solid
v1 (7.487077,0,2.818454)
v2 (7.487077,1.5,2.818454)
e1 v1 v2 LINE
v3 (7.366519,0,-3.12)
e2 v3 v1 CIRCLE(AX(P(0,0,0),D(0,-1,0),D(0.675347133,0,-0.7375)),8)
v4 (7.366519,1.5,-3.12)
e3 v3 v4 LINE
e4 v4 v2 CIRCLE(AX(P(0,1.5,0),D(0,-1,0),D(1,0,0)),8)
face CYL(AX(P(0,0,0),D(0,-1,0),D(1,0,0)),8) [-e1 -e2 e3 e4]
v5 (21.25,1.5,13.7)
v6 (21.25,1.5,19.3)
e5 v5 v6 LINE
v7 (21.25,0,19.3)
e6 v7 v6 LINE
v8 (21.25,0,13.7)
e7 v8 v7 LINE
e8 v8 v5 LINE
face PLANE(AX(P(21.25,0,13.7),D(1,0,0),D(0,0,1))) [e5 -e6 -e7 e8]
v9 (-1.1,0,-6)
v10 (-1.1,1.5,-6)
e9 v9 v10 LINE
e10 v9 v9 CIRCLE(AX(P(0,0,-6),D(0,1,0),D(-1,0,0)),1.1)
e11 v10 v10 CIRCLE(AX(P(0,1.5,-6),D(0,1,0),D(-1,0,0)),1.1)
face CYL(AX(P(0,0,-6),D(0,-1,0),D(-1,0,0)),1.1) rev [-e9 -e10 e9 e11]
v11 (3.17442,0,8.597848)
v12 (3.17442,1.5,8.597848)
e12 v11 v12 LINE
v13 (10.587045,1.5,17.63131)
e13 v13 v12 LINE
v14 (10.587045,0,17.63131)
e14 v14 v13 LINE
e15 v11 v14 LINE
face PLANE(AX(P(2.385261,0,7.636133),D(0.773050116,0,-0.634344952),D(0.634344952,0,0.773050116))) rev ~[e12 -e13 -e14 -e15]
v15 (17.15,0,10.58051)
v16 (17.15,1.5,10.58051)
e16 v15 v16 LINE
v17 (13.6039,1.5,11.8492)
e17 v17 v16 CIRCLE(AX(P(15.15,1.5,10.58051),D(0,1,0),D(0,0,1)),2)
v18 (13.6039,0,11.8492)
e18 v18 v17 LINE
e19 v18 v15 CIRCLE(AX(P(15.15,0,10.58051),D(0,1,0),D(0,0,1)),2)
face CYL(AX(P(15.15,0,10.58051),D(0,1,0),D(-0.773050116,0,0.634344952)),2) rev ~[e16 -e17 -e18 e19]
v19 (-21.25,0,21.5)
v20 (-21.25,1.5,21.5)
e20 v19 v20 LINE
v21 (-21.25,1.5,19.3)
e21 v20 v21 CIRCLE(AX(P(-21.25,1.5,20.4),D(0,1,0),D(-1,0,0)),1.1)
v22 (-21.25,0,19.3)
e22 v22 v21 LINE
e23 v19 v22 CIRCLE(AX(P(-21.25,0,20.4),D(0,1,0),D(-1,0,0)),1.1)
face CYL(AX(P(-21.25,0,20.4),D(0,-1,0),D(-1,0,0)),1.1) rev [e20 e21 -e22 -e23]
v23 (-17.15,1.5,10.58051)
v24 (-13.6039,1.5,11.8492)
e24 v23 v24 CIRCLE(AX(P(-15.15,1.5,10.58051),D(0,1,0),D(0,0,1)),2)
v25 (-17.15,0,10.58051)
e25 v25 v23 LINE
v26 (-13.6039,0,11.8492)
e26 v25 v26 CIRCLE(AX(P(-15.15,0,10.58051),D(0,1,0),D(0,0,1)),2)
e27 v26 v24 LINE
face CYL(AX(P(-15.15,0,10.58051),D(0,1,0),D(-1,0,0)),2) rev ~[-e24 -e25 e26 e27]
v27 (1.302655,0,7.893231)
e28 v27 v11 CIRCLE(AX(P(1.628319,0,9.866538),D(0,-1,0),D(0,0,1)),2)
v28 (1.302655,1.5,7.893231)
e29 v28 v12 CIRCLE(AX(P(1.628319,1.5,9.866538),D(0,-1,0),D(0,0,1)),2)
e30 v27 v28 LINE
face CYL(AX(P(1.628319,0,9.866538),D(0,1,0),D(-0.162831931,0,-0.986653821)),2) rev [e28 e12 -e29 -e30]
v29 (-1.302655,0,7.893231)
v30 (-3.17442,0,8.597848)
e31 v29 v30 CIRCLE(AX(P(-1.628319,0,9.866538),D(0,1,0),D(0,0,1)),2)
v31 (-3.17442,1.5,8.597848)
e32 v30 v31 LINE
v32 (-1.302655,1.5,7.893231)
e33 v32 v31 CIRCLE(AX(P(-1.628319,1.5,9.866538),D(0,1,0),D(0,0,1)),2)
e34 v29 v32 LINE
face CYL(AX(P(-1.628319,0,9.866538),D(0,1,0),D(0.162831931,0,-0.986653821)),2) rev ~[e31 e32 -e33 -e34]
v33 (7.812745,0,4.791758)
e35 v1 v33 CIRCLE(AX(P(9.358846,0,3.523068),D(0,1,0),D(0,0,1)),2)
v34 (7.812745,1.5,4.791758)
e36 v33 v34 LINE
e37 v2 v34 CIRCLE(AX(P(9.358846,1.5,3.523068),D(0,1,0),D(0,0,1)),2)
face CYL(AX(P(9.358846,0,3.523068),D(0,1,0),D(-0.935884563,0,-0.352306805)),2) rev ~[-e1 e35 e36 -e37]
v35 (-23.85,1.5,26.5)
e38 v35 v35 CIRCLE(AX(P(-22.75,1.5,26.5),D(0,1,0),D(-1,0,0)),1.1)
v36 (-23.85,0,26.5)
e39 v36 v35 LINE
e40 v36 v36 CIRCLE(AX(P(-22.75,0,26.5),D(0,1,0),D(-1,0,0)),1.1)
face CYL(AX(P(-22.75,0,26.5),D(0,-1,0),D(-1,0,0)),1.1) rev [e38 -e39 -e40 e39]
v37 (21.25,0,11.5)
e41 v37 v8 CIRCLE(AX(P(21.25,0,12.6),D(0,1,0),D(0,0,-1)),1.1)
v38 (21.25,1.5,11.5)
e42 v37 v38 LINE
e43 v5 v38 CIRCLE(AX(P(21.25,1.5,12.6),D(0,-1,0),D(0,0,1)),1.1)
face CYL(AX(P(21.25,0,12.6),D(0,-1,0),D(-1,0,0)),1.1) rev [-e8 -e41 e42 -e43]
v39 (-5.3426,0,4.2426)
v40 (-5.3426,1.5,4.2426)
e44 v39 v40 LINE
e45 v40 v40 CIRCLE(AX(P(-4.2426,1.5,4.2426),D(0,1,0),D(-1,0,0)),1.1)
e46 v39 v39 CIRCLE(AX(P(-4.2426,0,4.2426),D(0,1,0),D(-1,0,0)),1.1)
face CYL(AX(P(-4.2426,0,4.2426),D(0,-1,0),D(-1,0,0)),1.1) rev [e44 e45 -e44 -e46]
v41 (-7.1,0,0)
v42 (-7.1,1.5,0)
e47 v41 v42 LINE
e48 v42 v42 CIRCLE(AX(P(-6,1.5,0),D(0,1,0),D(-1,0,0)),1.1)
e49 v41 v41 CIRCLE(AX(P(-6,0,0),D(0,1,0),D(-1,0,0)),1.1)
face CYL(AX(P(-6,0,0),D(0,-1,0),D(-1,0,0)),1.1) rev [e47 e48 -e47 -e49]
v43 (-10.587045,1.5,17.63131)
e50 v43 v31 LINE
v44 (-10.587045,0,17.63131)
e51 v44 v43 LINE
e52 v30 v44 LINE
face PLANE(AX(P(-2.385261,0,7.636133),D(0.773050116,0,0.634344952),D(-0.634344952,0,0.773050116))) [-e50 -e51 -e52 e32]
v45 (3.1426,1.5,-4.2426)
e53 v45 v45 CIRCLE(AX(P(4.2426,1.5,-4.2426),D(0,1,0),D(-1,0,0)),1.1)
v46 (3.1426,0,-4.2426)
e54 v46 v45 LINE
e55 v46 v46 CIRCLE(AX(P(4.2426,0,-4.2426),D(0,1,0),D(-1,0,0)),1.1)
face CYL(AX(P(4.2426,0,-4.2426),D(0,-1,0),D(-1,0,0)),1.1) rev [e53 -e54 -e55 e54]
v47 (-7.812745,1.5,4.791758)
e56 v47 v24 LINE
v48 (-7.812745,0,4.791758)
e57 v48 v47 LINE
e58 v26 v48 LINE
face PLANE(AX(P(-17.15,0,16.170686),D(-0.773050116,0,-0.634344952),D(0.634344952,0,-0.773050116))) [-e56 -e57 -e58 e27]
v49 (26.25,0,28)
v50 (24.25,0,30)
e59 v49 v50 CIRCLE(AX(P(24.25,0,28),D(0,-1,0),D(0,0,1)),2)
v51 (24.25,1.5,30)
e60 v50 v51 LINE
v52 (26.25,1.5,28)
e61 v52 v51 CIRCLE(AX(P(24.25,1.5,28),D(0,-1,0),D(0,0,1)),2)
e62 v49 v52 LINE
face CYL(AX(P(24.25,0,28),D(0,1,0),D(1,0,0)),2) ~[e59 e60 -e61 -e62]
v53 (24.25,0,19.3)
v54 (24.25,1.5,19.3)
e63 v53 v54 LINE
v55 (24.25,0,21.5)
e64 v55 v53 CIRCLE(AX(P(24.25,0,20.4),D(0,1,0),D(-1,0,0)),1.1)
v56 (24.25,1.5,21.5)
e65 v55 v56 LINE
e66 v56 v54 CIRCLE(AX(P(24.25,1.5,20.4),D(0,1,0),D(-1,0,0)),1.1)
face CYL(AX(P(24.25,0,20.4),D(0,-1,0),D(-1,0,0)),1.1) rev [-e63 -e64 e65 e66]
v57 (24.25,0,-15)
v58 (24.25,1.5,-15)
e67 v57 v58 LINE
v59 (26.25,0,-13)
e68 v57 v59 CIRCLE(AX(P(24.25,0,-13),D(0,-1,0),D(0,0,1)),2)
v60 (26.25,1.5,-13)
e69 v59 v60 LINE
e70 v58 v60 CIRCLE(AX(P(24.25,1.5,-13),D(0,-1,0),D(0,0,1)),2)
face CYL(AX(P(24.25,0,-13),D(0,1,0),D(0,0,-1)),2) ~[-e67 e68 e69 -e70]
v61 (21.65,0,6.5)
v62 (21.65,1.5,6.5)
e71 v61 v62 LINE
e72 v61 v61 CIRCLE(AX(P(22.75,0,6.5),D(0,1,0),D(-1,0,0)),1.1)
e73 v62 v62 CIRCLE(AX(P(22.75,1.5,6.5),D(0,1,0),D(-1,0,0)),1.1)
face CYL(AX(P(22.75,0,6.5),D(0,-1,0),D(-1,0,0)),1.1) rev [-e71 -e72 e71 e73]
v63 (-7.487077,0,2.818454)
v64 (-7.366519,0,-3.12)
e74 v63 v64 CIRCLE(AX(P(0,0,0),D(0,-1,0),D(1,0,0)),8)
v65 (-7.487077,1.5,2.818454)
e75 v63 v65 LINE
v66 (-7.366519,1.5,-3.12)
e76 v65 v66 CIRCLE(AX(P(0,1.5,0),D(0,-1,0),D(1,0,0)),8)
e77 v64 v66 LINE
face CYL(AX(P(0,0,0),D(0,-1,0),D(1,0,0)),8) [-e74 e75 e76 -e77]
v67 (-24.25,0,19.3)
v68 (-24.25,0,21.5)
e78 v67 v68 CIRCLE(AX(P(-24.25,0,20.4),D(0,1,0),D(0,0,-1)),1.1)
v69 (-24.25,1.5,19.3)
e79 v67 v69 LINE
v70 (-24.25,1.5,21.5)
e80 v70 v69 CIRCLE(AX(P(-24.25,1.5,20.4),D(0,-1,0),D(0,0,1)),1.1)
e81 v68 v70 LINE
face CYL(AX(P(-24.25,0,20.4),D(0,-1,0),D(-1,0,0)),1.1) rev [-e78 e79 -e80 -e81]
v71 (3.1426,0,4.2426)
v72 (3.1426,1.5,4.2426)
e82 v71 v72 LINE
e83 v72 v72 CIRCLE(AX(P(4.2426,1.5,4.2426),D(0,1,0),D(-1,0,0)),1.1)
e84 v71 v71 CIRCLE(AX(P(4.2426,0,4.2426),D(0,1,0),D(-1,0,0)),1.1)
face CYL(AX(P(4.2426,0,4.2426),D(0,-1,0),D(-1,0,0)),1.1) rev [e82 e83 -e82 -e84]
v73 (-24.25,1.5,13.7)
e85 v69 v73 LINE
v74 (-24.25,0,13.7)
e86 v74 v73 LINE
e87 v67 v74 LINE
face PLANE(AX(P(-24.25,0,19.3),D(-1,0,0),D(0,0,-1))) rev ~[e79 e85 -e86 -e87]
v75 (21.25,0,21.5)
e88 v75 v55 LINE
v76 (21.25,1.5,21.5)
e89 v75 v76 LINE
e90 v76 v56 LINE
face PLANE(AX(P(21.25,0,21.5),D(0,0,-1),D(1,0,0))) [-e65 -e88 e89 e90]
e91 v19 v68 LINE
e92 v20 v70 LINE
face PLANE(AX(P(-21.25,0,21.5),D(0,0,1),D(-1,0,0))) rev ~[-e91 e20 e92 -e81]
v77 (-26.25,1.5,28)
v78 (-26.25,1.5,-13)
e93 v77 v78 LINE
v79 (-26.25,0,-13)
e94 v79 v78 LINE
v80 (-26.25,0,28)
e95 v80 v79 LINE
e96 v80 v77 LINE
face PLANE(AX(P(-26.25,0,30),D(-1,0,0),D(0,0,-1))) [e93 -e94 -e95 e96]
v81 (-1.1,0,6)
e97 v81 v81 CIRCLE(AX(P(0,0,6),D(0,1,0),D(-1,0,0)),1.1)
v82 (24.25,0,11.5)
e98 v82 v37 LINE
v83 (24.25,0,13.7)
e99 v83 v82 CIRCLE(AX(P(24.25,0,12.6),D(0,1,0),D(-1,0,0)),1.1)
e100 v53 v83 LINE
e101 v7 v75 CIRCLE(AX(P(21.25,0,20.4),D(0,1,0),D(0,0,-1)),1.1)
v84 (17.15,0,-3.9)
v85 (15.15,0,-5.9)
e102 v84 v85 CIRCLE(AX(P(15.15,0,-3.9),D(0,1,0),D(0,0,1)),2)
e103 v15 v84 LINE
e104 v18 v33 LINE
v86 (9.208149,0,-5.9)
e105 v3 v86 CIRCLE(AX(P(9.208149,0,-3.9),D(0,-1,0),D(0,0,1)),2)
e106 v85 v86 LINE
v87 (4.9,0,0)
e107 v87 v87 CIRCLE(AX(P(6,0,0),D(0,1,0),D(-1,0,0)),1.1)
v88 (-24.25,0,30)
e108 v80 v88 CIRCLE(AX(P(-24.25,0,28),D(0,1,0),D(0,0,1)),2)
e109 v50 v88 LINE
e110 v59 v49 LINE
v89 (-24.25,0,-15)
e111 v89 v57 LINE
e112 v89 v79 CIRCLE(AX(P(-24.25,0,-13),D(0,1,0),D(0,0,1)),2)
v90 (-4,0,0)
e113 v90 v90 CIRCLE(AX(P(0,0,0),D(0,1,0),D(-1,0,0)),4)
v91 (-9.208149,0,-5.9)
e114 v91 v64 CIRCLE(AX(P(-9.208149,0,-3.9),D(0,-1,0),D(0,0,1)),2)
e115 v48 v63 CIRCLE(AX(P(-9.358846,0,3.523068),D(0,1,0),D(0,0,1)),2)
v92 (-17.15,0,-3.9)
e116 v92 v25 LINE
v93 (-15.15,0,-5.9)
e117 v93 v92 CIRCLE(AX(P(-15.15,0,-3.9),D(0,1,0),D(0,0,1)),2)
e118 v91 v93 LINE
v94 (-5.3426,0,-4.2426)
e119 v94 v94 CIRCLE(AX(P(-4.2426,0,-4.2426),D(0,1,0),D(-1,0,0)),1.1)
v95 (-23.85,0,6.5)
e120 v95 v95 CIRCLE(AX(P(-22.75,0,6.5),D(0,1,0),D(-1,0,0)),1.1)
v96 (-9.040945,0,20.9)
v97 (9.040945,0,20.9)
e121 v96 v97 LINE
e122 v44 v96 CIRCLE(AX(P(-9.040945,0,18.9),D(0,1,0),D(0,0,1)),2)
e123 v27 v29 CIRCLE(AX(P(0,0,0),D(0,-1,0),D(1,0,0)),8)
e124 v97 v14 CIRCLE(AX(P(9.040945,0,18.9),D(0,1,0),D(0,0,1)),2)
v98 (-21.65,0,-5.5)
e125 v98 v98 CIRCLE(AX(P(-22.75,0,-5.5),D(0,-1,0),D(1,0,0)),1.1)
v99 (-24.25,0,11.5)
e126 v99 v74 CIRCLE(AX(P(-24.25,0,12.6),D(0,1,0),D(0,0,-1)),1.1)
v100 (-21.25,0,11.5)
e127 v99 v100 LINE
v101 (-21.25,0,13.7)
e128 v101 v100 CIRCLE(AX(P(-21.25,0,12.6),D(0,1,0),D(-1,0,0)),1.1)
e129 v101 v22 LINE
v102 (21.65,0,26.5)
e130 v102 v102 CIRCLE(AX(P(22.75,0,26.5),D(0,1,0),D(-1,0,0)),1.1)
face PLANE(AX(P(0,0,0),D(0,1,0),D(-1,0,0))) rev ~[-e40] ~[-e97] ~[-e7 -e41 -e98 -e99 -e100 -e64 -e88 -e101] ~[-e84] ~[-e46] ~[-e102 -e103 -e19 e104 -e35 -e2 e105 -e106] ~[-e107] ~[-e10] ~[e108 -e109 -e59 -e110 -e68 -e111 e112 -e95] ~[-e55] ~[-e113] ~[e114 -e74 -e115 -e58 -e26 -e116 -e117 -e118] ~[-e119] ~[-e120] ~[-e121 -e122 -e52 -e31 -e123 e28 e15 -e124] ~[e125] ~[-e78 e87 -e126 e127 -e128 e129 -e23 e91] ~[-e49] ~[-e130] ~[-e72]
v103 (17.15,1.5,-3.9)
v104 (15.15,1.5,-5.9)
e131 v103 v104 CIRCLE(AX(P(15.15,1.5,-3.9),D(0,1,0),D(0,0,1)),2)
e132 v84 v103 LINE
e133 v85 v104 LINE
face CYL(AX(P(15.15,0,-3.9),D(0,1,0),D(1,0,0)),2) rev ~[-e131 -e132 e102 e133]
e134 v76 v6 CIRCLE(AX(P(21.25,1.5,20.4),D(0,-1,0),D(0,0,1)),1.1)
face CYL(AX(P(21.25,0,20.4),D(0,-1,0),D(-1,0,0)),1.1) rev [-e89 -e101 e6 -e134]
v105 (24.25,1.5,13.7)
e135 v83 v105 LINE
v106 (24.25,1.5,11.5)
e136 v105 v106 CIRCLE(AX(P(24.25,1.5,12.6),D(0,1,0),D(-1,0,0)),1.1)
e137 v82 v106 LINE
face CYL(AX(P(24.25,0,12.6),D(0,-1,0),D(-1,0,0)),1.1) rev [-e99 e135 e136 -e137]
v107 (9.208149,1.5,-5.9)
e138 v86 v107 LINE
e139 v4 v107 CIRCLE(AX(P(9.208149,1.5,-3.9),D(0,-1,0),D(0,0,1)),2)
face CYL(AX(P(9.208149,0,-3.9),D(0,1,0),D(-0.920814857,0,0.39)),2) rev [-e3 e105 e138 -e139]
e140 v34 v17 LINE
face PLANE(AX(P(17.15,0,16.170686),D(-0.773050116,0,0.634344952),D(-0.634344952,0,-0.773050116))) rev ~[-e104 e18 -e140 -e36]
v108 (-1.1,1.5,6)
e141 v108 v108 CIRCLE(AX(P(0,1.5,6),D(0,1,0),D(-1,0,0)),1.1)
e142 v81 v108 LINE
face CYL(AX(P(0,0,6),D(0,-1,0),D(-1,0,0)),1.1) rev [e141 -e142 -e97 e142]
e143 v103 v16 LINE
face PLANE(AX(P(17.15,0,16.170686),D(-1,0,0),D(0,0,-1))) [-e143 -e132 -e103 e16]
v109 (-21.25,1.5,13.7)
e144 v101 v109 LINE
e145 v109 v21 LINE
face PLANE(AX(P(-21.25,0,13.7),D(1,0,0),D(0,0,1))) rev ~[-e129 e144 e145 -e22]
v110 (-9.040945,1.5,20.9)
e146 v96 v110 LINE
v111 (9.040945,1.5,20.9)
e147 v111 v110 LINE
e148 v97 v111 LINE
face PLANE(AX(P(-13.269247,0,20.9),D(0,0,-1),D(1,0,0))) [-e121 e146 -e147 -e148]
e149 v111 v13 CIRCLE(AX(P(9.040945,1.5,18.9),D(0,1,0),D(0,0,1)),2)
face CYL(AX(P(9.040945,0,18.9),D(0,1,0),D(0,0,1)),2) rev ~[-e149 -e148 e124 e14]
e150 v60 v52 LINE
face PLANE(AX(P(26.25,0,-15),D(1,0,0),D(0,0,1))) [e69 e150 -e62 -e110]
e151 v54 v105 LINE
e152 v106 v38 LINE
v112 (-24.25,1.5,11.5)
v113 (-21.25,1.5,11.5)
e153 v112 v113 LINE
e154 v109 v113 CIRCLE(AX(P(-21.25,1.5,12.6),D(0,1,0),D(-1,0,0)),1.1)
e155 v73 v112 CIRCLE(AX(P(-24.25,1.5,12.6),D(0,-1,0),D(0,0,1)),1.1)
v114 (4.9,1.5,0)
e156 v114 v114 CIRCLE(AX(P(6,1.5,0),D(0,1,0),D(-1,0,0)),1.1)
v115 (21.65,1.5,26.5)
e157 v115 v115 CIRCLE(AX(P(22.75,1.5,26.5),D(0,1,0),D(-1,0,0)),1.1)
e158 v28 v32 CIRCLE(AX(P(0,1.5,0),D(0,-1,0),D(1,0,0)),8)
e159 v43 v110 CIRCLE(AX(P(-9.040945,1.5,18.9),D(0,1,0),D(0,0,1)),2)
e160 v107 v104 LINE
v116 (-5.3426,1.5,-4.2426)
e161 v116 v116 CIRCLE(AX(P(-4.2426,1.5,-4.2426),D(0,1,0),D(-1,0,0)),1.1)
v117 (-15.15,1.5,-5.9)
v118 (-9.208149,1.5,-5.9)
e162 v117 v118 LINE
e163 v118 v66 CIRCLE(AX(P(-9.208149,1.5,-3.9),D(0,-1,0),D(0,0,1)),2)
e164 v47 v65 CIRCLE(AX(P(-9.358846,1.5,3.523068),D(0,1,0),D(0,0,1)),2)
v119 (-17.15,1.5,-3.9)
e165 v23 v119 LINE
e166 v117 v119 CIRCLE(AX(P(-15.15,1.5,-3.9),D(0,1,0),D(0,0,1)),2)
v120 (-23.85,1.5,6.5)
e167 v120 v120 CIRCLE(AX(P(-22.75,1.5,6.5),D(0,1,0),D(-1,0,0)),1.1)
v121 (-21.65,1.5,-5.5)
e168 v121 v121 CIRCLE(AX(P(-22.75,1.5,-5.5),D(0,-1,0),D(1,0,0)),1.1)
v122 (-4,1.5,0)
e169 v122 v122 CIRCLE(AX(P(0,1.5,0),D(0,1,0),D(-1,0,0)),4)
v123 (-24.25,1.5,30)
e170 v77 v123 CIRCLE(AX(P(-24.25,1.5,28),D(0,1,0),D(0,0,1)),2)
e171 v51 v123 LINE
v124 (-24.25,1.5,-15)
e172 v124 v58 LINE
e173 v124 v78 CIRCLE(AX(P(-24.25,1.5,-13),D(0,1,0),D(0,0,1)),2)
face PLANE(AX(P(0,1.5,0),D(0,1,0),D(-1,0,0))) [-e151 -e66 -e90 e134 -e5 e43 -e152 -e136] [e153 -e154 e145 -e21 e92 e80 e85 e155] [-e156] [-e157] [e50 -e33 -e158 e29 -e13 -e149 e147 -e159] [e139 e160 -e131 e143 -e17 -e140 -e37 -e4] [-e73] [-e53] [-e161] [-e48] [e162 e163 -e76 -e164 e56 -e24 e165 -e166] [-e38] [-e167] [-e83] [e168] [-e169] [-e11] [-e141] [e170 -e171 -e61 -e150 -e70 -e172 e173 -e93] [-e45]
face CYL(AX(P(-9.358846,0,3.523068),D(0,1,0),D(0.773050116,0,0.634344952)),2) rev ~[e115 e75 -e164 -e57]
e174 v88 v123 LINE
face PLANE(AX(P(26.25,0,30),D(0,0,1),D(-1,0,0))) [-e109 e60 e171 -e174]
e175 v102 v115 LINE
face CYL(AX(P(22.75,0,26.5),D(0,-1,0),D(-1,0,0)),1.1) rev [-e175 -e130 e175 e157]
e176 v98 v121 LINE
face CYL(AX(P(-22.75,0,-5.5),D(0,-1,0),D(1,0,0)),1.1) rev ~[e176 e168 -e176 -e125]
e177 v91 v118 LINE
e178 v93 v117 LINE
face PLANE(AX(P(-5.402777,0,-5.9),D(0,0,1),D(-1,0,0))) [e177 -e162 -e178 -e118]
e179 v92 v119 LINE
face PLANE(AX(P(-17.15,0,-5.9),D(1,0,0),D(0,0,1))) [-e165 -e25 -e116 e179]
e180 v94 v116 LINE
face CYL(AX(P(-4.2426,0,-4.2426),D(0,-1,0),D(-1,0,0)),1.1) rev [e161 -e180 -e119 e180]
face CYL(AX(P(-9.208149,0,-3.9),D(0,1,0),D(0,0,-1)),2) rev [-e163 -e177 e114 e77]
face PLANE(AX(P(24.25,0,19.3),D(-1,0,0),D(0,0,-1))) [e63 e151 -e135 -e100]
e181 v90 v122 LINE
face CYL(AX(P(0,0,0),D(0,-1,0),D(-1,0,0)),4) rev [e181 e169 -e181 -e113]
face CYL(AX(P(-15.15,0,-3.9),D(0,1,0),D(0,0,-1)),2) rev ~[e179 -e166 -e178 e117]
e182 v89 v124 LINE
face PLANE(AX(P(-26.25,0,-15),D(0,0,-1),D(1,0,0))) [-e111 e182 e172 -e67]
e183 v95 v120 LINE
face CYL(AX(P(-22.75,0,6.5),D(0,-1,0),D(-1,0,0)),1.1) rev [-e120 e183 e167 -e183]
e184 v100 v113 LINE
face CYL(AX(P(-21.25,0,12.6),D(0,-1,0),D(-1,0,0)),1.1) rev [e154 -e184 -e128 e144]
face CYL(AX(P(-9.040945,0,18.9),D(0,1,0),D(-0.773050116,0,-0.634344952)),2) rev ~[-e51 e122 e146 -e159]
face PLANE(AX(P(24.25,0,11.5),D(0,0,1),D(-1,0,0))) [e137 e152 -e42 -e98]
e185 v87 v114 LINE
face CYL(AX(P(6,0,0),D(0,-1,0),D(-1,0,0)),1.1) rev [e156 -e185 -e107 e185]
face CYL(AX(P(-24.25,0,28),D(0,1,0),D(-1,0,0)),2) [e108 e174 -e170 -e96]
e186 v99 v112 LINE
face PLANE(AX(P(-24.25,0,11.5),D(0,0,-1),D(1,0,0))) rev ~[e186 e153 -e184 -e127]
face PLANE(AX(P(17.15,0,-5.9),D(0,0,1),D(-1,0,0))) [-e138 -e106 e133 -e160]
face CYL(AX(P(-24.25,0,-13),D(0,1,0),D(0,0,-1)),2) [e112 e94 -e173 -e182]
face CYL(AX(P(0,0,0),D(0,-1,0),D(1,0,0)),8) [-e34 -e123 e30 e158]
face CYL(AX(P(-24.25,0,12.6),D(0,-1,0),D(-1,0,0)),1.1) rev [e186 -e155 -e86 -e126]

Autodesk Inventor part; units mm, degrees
ref_plane "YZ Plane" through (0, 0, 0) normal (1, 0, 0) x (0, 1, 0)
ref_plane "XZ Plane" through (0, 0, 0) normal (0, 1, 0) x (-1, 0, 0)
ref_plane "XY Plane" through (0, 0, 0) normal (0, 0, 1) x (1, 0, 0)
sketch "スケッチ1" plane through (0, 0, 0) normal (0, 1, 0) x (-1, 0, 0)
  circle A0 centre (0, 0) radius 4
  circle A1 centre (0, 0) radius 8
  circle A2 centre (0, 0) radius 6 construction
  circle A3 centre (0, -6) radius 1.1
  circle A4 centre (4.2426, -4.2426) radius 1.1
  circle A5 centre (6, 0) radius 1.1
  circle A6 centre (4.2426, 4.2426) radius 1.1
  circle A7 centre (0, 6) radius 1.1
  circle A8 centre (-4.2426, 4.2426) radius 1.1
  circle A9 centre (-6, 0) radius 1.1
  circle A10 centre (-4.2426, -4.2426) radius 1.1
  line L0 (26.25, -15) -> (-26.25, -15)
  line L1 (-26.25, -15) -> (-26.25, 30)
  line L2 (-26.25, 30) -> (26.25, 30)
  line L3 (26.25, 30) -> (26.25, -15)
  line L4 (24.25, 11.5) -> (21.25, 11.5)
  line L5 (21.25, 11.5) -> (21.25, 21.5)
  line L6 (21.25, 21.5) -> (24.25, 21.5)
  line L7 (24.25, 21.5) -> (24.25, 11.5)
  circle A11 centre (24.25, 12.6) radius 1.1
  circle A12 centre (21.25, 12.6) radius 1.1
  line L8 (0, 0) -> (0, -15) construction
  circle A13 centre (24.25, 20.4) radius 1.1
  circle A14 centre (21.25, 20.4) radius 1.1
  line L9 (-24.25, 11.5) -> (-21.25, 11.5)
  line L10 (-21.25, 11.5) -> (-21.25, 21.5)
  line L11 (-21.25, 21.5) -> (-24.25, 21.5)
  line L12 (-24.25, 21.5) -> (-24.25, 11.5)
  circle A15 centre (-24.25, 12.6) radius 1.1
  circle A16 centre (-21.25, 12.6) radius 1.1
  circle A17 centre (-24.25, 20.4) radius 1.1
  circle A18 centre (-21.25, 20.4) radius 1.1
  circle A19 centre (22.75, 6.5) radius 1.1
  circle A20 centre (22.75, 26.5) radius 1.1
  circle A21 centre (-22.75, 6.5) radius 1.1
  circle A22 centre (-22.75, 26.5) radius 1.1
  circle A23 centre (22.75, 26.5) radius 3.5 construction
  point P0 (21.25, 16.5)
  point P1 (-21.25, 16.5)
  point P2 (22.75, 11.5)
  point P3 (-21.25, 19.3)
  point P4 (-21.25, 13.7)
  point P5 (-24.25, 13.7)
  point P6 (-24.25, 19.3)
  point P7 (-24.25, 21.5)
  point P8 (-21.25, 21.5)
  point P9 (21.25, 19.3)
  point P10 (21.25, 21.5)
  point P11 (24.25, 21.5)
  point P12 (24.25, 19.3)
  point P13 (24.25, 13.7)
  point P14 (21.25, 13.7)
  point P15 (22.75, 21.5)
  dimension "d2" = 12
  dimension "d10" = 2.2
  dimension "d0" = 8
  dimension "d1" = 16
  dimension "d3" = 2.2
  dimension "d6" = 360
  dimension "d8" = 3
  dimension "d9" = 10
  dimension "d11" = 42.5
  dimension "d12" = 2.2
  dimension "d13" = 5
  dimension "d17" = 5
  dimension "d18" = 7
  dimension "d29" = 45
  dimension "d30" = 30
extrude "押し出し1" add sketch "スケッチ1" along normal blind 1.5 contours A1 | L0 L1 L2 L3
sketch "スケッチ2" plane through (0, 0, 0) normal (0, -1, 0) x (1, 0, 0)
  circle A0 centre (-22.75, -5.5) radius 1.1
  circle A1 centre (-22.75, 6.5) radius 1.1 projected
  point P0 (0, 0)
  dimension "d19" = 2.2
  dimension "d20" = 12
extrude "押し出し2" cut sketch "スケッチ2" against normal through all contours A0
fillet "フィレット1" radius 2 4 edges at (-26.25, 0.75, -15) (26.25, 0.75, -15) (26.25, 0.75, 30) (-26.25, 0.75, 30)
sketch "スケッチ4" plane through (0, 0, 0) normal (0, -1, 0) x (1, 0, 0)
  circle A0 centre (0, 0) radius 8
  circle A1 centre (0, -6) radius 1.1 projected
  circle A2 centre (0, -6) radius 2
  circle A3 centre (-22.75, -5.5) radius 1.1 projected
  arc A4 (-24.25, 30) -> (-26.25, 28) centre (-24.25, 28) ccw projected
  line L0 (-26.25, -13) -> (-26.25, 28) projected
  arc A5 (-26.25, -13) -> (-24.25, -15) centre (-24.25, -13) ccw projected
  line L1 (24.25, -15) -> (-24.25, -15) projected
  arc A6 (24.25, -15) -> (26.25, -13) centre (24.25, -13) ccw projected
  line L2 (26.25, 28) -> (26.25, -13) projected
  arc A7 (26.25, 28) -> (24.25, 30) centre (24.25, 28) ccw projected
  line L3 (-24.25, 30) -> (24.25, 30) projected
  circle A8 centre (22.75, 26.5) radius 1.1 projected
  circle A9 centre (-22.75, 26.5) radius 1.1 projected
  circle A10 centre (-22.75, 6.5) radius 1.1 projected
  line L4 (21.25, 19.3) -> (21.25, 13.7) projected
  arc A11 (21.25, 21.5) -> (21.25, 19.3) centre (21.25, 20.4) ccw projected
  line L5 (24.25, 21.5) -> (21.25, 21.5) projected
  arc A12 (24.25, 19.3) -> (24.25, 21.5) centre (24.25, 20.4) ccw projected
  line L6 (24.25, 13.7) -> (24.25, 19.3) projected
  arc A13 (24.25, 11.5) -> (24.25, 13.7) centre (24.25, 12.6) ccw projected
  line L7 (21.25, 11.5) -> (24.25, 11.5) projected
  arc A14 (21.25, 13.7) -> (21.25, 11.5) centre (21.25, 12.6) ccw projected
  arc A15 (-21.25, 19.3) -> (-21.25, 21.5) centre (-21.25, 20.4) ccw projected
  line L8 (-21.25, 13.7) -> (-21.25, 19.3) projected
  arc A16 (-21.25, 11.5) -> (-21.25, 13.7) centre (-21.25, 12.6) ccw projected
  line L9 (-24.25, 11.5) -> (-21.25, 11.5) projected
  arc A17 (-24.25, 13.7) -> (-24.25, 11.5) centre (-24.25, 12.6) ccw projected
  line L10 (-24.25, 19.3) -> (-24.25, 13.7) projected
  arc A18 (-24.25, 21.5) -> (-24.25, 19.3) centre (-24.25, 20.4) ccw projected
  line L11 (-21.25, 21.5) -> (-24.25, 21.5) projected
  circle A19 centre (6, 0) radius 1.1 projected
  circle A20 centre (0, 6) radius 1.1 projected
  circle A21 centre (-6, 0) radius 1.1 projected
  circle A22 centre (0, -6) radius 1.1 projected
  circle A23 centre (22.75, 6.5) radius 1.1 projected
  circle A24 centre (4.2426, -4.2426) radius 1.1 projected
  circle A25 centre (4.2426, 4.2426) radius 1.1 projected
  circle A26 centre (-4.2426, 4.2426) radius 1.1 projected
  circle A27 centre (-4.2426, -4.2426) radius 1.1 projected
  circle A28 centre (0, 0) radius 4 projected
  line L12 (-17.15, -5.9) -> (-17.15, 20.9)
  line L13 (-17.15, 20.9) -> (17.15, 20.9)
  line L14 (17.15, 20.9) -> (17.15, -5.9)
  line L15 (17.15, -5.9) -> (-17.15, -5.9)
  arc A29 (21.25, 13.7) -> (21.25, 11.5) centre (21.25, 12.6) ccw projected
  line L16 (0, 0) -> (17.15, 20.9) construction
  line L17 (0, 0) -> (0, 20.9) construction
  line L18 (19.4692, 18.997) -> (2.3192, -1.903)
  line L19 (2.3192, -1.903) -> (-2.3192, 1.903) construction
  line L20 (-2.3192, 1.903) -> (14.8308, 22.803)
  line L21 (14.8308, 22.803) -> (19.4692, 18.997) construction
  line L22 (19.4692, 18.997) -> (-2.3192, 1.903) construction
  line L23 (2.3192, -1.903) -> (14.8308, 22.803) construction
  line L24 (-19.4692, 18.997) -> (-2.3192, -1.903)
  line L25 (2.3192, 1.903) -> (-14.8308, 22.803)
  point P0 (20.15, 12.6)
  point P1 (8.575, 10.45)
  point P2 (-7.0236, 3.8301)
  point P3 (-17.15, 16.1707)
  point P4 (-5.4028, -5.9)
  point P5 (-13.2693, 20.9)
  point P6 (-2.3853, 7.6361)
  point P7 (2.3853, 7.6361)
  point P8 (13.2693, 20.9)
  point P9 (17.15, 16.1707)
  point P10 (7.0236, 3.8301)
  point P11 (5.4028, -5.9)
  dimension "d31" = 4
  dimension "d32" = 3
  dimension "d33" = 6
extrude "押し出し4" cut sketch "スケッチ4" against normal through all contours A0 L18 L14 L15 | A0 L25 L13 L20 | L15 L12 L24 A0
fillet "フィレット3" radius 2 12 edges at (13.2693, 0.75, 20.9) (17.15, 0.75, 16.1707) (17.15, 0.75, -5.9) (5.4028, 0.75, -5.9) (7.0236, 0.75, 3.8301) (2.3853, 0.75, 7.6361) (-2.3853, 0.75, 7.6361) (-13.2693, 0.75, 20.9) (-17.15, 0.75, 16.1707) (-7.0236, 0.75, 3.8301) (-5.4028, 0.75, -5.9) (-17.15, 0.75, -5.9)
equation "\"d17\" = d13"
properties part number "kosi_v3_1.5" material "アルミニウム 2014-T4"
